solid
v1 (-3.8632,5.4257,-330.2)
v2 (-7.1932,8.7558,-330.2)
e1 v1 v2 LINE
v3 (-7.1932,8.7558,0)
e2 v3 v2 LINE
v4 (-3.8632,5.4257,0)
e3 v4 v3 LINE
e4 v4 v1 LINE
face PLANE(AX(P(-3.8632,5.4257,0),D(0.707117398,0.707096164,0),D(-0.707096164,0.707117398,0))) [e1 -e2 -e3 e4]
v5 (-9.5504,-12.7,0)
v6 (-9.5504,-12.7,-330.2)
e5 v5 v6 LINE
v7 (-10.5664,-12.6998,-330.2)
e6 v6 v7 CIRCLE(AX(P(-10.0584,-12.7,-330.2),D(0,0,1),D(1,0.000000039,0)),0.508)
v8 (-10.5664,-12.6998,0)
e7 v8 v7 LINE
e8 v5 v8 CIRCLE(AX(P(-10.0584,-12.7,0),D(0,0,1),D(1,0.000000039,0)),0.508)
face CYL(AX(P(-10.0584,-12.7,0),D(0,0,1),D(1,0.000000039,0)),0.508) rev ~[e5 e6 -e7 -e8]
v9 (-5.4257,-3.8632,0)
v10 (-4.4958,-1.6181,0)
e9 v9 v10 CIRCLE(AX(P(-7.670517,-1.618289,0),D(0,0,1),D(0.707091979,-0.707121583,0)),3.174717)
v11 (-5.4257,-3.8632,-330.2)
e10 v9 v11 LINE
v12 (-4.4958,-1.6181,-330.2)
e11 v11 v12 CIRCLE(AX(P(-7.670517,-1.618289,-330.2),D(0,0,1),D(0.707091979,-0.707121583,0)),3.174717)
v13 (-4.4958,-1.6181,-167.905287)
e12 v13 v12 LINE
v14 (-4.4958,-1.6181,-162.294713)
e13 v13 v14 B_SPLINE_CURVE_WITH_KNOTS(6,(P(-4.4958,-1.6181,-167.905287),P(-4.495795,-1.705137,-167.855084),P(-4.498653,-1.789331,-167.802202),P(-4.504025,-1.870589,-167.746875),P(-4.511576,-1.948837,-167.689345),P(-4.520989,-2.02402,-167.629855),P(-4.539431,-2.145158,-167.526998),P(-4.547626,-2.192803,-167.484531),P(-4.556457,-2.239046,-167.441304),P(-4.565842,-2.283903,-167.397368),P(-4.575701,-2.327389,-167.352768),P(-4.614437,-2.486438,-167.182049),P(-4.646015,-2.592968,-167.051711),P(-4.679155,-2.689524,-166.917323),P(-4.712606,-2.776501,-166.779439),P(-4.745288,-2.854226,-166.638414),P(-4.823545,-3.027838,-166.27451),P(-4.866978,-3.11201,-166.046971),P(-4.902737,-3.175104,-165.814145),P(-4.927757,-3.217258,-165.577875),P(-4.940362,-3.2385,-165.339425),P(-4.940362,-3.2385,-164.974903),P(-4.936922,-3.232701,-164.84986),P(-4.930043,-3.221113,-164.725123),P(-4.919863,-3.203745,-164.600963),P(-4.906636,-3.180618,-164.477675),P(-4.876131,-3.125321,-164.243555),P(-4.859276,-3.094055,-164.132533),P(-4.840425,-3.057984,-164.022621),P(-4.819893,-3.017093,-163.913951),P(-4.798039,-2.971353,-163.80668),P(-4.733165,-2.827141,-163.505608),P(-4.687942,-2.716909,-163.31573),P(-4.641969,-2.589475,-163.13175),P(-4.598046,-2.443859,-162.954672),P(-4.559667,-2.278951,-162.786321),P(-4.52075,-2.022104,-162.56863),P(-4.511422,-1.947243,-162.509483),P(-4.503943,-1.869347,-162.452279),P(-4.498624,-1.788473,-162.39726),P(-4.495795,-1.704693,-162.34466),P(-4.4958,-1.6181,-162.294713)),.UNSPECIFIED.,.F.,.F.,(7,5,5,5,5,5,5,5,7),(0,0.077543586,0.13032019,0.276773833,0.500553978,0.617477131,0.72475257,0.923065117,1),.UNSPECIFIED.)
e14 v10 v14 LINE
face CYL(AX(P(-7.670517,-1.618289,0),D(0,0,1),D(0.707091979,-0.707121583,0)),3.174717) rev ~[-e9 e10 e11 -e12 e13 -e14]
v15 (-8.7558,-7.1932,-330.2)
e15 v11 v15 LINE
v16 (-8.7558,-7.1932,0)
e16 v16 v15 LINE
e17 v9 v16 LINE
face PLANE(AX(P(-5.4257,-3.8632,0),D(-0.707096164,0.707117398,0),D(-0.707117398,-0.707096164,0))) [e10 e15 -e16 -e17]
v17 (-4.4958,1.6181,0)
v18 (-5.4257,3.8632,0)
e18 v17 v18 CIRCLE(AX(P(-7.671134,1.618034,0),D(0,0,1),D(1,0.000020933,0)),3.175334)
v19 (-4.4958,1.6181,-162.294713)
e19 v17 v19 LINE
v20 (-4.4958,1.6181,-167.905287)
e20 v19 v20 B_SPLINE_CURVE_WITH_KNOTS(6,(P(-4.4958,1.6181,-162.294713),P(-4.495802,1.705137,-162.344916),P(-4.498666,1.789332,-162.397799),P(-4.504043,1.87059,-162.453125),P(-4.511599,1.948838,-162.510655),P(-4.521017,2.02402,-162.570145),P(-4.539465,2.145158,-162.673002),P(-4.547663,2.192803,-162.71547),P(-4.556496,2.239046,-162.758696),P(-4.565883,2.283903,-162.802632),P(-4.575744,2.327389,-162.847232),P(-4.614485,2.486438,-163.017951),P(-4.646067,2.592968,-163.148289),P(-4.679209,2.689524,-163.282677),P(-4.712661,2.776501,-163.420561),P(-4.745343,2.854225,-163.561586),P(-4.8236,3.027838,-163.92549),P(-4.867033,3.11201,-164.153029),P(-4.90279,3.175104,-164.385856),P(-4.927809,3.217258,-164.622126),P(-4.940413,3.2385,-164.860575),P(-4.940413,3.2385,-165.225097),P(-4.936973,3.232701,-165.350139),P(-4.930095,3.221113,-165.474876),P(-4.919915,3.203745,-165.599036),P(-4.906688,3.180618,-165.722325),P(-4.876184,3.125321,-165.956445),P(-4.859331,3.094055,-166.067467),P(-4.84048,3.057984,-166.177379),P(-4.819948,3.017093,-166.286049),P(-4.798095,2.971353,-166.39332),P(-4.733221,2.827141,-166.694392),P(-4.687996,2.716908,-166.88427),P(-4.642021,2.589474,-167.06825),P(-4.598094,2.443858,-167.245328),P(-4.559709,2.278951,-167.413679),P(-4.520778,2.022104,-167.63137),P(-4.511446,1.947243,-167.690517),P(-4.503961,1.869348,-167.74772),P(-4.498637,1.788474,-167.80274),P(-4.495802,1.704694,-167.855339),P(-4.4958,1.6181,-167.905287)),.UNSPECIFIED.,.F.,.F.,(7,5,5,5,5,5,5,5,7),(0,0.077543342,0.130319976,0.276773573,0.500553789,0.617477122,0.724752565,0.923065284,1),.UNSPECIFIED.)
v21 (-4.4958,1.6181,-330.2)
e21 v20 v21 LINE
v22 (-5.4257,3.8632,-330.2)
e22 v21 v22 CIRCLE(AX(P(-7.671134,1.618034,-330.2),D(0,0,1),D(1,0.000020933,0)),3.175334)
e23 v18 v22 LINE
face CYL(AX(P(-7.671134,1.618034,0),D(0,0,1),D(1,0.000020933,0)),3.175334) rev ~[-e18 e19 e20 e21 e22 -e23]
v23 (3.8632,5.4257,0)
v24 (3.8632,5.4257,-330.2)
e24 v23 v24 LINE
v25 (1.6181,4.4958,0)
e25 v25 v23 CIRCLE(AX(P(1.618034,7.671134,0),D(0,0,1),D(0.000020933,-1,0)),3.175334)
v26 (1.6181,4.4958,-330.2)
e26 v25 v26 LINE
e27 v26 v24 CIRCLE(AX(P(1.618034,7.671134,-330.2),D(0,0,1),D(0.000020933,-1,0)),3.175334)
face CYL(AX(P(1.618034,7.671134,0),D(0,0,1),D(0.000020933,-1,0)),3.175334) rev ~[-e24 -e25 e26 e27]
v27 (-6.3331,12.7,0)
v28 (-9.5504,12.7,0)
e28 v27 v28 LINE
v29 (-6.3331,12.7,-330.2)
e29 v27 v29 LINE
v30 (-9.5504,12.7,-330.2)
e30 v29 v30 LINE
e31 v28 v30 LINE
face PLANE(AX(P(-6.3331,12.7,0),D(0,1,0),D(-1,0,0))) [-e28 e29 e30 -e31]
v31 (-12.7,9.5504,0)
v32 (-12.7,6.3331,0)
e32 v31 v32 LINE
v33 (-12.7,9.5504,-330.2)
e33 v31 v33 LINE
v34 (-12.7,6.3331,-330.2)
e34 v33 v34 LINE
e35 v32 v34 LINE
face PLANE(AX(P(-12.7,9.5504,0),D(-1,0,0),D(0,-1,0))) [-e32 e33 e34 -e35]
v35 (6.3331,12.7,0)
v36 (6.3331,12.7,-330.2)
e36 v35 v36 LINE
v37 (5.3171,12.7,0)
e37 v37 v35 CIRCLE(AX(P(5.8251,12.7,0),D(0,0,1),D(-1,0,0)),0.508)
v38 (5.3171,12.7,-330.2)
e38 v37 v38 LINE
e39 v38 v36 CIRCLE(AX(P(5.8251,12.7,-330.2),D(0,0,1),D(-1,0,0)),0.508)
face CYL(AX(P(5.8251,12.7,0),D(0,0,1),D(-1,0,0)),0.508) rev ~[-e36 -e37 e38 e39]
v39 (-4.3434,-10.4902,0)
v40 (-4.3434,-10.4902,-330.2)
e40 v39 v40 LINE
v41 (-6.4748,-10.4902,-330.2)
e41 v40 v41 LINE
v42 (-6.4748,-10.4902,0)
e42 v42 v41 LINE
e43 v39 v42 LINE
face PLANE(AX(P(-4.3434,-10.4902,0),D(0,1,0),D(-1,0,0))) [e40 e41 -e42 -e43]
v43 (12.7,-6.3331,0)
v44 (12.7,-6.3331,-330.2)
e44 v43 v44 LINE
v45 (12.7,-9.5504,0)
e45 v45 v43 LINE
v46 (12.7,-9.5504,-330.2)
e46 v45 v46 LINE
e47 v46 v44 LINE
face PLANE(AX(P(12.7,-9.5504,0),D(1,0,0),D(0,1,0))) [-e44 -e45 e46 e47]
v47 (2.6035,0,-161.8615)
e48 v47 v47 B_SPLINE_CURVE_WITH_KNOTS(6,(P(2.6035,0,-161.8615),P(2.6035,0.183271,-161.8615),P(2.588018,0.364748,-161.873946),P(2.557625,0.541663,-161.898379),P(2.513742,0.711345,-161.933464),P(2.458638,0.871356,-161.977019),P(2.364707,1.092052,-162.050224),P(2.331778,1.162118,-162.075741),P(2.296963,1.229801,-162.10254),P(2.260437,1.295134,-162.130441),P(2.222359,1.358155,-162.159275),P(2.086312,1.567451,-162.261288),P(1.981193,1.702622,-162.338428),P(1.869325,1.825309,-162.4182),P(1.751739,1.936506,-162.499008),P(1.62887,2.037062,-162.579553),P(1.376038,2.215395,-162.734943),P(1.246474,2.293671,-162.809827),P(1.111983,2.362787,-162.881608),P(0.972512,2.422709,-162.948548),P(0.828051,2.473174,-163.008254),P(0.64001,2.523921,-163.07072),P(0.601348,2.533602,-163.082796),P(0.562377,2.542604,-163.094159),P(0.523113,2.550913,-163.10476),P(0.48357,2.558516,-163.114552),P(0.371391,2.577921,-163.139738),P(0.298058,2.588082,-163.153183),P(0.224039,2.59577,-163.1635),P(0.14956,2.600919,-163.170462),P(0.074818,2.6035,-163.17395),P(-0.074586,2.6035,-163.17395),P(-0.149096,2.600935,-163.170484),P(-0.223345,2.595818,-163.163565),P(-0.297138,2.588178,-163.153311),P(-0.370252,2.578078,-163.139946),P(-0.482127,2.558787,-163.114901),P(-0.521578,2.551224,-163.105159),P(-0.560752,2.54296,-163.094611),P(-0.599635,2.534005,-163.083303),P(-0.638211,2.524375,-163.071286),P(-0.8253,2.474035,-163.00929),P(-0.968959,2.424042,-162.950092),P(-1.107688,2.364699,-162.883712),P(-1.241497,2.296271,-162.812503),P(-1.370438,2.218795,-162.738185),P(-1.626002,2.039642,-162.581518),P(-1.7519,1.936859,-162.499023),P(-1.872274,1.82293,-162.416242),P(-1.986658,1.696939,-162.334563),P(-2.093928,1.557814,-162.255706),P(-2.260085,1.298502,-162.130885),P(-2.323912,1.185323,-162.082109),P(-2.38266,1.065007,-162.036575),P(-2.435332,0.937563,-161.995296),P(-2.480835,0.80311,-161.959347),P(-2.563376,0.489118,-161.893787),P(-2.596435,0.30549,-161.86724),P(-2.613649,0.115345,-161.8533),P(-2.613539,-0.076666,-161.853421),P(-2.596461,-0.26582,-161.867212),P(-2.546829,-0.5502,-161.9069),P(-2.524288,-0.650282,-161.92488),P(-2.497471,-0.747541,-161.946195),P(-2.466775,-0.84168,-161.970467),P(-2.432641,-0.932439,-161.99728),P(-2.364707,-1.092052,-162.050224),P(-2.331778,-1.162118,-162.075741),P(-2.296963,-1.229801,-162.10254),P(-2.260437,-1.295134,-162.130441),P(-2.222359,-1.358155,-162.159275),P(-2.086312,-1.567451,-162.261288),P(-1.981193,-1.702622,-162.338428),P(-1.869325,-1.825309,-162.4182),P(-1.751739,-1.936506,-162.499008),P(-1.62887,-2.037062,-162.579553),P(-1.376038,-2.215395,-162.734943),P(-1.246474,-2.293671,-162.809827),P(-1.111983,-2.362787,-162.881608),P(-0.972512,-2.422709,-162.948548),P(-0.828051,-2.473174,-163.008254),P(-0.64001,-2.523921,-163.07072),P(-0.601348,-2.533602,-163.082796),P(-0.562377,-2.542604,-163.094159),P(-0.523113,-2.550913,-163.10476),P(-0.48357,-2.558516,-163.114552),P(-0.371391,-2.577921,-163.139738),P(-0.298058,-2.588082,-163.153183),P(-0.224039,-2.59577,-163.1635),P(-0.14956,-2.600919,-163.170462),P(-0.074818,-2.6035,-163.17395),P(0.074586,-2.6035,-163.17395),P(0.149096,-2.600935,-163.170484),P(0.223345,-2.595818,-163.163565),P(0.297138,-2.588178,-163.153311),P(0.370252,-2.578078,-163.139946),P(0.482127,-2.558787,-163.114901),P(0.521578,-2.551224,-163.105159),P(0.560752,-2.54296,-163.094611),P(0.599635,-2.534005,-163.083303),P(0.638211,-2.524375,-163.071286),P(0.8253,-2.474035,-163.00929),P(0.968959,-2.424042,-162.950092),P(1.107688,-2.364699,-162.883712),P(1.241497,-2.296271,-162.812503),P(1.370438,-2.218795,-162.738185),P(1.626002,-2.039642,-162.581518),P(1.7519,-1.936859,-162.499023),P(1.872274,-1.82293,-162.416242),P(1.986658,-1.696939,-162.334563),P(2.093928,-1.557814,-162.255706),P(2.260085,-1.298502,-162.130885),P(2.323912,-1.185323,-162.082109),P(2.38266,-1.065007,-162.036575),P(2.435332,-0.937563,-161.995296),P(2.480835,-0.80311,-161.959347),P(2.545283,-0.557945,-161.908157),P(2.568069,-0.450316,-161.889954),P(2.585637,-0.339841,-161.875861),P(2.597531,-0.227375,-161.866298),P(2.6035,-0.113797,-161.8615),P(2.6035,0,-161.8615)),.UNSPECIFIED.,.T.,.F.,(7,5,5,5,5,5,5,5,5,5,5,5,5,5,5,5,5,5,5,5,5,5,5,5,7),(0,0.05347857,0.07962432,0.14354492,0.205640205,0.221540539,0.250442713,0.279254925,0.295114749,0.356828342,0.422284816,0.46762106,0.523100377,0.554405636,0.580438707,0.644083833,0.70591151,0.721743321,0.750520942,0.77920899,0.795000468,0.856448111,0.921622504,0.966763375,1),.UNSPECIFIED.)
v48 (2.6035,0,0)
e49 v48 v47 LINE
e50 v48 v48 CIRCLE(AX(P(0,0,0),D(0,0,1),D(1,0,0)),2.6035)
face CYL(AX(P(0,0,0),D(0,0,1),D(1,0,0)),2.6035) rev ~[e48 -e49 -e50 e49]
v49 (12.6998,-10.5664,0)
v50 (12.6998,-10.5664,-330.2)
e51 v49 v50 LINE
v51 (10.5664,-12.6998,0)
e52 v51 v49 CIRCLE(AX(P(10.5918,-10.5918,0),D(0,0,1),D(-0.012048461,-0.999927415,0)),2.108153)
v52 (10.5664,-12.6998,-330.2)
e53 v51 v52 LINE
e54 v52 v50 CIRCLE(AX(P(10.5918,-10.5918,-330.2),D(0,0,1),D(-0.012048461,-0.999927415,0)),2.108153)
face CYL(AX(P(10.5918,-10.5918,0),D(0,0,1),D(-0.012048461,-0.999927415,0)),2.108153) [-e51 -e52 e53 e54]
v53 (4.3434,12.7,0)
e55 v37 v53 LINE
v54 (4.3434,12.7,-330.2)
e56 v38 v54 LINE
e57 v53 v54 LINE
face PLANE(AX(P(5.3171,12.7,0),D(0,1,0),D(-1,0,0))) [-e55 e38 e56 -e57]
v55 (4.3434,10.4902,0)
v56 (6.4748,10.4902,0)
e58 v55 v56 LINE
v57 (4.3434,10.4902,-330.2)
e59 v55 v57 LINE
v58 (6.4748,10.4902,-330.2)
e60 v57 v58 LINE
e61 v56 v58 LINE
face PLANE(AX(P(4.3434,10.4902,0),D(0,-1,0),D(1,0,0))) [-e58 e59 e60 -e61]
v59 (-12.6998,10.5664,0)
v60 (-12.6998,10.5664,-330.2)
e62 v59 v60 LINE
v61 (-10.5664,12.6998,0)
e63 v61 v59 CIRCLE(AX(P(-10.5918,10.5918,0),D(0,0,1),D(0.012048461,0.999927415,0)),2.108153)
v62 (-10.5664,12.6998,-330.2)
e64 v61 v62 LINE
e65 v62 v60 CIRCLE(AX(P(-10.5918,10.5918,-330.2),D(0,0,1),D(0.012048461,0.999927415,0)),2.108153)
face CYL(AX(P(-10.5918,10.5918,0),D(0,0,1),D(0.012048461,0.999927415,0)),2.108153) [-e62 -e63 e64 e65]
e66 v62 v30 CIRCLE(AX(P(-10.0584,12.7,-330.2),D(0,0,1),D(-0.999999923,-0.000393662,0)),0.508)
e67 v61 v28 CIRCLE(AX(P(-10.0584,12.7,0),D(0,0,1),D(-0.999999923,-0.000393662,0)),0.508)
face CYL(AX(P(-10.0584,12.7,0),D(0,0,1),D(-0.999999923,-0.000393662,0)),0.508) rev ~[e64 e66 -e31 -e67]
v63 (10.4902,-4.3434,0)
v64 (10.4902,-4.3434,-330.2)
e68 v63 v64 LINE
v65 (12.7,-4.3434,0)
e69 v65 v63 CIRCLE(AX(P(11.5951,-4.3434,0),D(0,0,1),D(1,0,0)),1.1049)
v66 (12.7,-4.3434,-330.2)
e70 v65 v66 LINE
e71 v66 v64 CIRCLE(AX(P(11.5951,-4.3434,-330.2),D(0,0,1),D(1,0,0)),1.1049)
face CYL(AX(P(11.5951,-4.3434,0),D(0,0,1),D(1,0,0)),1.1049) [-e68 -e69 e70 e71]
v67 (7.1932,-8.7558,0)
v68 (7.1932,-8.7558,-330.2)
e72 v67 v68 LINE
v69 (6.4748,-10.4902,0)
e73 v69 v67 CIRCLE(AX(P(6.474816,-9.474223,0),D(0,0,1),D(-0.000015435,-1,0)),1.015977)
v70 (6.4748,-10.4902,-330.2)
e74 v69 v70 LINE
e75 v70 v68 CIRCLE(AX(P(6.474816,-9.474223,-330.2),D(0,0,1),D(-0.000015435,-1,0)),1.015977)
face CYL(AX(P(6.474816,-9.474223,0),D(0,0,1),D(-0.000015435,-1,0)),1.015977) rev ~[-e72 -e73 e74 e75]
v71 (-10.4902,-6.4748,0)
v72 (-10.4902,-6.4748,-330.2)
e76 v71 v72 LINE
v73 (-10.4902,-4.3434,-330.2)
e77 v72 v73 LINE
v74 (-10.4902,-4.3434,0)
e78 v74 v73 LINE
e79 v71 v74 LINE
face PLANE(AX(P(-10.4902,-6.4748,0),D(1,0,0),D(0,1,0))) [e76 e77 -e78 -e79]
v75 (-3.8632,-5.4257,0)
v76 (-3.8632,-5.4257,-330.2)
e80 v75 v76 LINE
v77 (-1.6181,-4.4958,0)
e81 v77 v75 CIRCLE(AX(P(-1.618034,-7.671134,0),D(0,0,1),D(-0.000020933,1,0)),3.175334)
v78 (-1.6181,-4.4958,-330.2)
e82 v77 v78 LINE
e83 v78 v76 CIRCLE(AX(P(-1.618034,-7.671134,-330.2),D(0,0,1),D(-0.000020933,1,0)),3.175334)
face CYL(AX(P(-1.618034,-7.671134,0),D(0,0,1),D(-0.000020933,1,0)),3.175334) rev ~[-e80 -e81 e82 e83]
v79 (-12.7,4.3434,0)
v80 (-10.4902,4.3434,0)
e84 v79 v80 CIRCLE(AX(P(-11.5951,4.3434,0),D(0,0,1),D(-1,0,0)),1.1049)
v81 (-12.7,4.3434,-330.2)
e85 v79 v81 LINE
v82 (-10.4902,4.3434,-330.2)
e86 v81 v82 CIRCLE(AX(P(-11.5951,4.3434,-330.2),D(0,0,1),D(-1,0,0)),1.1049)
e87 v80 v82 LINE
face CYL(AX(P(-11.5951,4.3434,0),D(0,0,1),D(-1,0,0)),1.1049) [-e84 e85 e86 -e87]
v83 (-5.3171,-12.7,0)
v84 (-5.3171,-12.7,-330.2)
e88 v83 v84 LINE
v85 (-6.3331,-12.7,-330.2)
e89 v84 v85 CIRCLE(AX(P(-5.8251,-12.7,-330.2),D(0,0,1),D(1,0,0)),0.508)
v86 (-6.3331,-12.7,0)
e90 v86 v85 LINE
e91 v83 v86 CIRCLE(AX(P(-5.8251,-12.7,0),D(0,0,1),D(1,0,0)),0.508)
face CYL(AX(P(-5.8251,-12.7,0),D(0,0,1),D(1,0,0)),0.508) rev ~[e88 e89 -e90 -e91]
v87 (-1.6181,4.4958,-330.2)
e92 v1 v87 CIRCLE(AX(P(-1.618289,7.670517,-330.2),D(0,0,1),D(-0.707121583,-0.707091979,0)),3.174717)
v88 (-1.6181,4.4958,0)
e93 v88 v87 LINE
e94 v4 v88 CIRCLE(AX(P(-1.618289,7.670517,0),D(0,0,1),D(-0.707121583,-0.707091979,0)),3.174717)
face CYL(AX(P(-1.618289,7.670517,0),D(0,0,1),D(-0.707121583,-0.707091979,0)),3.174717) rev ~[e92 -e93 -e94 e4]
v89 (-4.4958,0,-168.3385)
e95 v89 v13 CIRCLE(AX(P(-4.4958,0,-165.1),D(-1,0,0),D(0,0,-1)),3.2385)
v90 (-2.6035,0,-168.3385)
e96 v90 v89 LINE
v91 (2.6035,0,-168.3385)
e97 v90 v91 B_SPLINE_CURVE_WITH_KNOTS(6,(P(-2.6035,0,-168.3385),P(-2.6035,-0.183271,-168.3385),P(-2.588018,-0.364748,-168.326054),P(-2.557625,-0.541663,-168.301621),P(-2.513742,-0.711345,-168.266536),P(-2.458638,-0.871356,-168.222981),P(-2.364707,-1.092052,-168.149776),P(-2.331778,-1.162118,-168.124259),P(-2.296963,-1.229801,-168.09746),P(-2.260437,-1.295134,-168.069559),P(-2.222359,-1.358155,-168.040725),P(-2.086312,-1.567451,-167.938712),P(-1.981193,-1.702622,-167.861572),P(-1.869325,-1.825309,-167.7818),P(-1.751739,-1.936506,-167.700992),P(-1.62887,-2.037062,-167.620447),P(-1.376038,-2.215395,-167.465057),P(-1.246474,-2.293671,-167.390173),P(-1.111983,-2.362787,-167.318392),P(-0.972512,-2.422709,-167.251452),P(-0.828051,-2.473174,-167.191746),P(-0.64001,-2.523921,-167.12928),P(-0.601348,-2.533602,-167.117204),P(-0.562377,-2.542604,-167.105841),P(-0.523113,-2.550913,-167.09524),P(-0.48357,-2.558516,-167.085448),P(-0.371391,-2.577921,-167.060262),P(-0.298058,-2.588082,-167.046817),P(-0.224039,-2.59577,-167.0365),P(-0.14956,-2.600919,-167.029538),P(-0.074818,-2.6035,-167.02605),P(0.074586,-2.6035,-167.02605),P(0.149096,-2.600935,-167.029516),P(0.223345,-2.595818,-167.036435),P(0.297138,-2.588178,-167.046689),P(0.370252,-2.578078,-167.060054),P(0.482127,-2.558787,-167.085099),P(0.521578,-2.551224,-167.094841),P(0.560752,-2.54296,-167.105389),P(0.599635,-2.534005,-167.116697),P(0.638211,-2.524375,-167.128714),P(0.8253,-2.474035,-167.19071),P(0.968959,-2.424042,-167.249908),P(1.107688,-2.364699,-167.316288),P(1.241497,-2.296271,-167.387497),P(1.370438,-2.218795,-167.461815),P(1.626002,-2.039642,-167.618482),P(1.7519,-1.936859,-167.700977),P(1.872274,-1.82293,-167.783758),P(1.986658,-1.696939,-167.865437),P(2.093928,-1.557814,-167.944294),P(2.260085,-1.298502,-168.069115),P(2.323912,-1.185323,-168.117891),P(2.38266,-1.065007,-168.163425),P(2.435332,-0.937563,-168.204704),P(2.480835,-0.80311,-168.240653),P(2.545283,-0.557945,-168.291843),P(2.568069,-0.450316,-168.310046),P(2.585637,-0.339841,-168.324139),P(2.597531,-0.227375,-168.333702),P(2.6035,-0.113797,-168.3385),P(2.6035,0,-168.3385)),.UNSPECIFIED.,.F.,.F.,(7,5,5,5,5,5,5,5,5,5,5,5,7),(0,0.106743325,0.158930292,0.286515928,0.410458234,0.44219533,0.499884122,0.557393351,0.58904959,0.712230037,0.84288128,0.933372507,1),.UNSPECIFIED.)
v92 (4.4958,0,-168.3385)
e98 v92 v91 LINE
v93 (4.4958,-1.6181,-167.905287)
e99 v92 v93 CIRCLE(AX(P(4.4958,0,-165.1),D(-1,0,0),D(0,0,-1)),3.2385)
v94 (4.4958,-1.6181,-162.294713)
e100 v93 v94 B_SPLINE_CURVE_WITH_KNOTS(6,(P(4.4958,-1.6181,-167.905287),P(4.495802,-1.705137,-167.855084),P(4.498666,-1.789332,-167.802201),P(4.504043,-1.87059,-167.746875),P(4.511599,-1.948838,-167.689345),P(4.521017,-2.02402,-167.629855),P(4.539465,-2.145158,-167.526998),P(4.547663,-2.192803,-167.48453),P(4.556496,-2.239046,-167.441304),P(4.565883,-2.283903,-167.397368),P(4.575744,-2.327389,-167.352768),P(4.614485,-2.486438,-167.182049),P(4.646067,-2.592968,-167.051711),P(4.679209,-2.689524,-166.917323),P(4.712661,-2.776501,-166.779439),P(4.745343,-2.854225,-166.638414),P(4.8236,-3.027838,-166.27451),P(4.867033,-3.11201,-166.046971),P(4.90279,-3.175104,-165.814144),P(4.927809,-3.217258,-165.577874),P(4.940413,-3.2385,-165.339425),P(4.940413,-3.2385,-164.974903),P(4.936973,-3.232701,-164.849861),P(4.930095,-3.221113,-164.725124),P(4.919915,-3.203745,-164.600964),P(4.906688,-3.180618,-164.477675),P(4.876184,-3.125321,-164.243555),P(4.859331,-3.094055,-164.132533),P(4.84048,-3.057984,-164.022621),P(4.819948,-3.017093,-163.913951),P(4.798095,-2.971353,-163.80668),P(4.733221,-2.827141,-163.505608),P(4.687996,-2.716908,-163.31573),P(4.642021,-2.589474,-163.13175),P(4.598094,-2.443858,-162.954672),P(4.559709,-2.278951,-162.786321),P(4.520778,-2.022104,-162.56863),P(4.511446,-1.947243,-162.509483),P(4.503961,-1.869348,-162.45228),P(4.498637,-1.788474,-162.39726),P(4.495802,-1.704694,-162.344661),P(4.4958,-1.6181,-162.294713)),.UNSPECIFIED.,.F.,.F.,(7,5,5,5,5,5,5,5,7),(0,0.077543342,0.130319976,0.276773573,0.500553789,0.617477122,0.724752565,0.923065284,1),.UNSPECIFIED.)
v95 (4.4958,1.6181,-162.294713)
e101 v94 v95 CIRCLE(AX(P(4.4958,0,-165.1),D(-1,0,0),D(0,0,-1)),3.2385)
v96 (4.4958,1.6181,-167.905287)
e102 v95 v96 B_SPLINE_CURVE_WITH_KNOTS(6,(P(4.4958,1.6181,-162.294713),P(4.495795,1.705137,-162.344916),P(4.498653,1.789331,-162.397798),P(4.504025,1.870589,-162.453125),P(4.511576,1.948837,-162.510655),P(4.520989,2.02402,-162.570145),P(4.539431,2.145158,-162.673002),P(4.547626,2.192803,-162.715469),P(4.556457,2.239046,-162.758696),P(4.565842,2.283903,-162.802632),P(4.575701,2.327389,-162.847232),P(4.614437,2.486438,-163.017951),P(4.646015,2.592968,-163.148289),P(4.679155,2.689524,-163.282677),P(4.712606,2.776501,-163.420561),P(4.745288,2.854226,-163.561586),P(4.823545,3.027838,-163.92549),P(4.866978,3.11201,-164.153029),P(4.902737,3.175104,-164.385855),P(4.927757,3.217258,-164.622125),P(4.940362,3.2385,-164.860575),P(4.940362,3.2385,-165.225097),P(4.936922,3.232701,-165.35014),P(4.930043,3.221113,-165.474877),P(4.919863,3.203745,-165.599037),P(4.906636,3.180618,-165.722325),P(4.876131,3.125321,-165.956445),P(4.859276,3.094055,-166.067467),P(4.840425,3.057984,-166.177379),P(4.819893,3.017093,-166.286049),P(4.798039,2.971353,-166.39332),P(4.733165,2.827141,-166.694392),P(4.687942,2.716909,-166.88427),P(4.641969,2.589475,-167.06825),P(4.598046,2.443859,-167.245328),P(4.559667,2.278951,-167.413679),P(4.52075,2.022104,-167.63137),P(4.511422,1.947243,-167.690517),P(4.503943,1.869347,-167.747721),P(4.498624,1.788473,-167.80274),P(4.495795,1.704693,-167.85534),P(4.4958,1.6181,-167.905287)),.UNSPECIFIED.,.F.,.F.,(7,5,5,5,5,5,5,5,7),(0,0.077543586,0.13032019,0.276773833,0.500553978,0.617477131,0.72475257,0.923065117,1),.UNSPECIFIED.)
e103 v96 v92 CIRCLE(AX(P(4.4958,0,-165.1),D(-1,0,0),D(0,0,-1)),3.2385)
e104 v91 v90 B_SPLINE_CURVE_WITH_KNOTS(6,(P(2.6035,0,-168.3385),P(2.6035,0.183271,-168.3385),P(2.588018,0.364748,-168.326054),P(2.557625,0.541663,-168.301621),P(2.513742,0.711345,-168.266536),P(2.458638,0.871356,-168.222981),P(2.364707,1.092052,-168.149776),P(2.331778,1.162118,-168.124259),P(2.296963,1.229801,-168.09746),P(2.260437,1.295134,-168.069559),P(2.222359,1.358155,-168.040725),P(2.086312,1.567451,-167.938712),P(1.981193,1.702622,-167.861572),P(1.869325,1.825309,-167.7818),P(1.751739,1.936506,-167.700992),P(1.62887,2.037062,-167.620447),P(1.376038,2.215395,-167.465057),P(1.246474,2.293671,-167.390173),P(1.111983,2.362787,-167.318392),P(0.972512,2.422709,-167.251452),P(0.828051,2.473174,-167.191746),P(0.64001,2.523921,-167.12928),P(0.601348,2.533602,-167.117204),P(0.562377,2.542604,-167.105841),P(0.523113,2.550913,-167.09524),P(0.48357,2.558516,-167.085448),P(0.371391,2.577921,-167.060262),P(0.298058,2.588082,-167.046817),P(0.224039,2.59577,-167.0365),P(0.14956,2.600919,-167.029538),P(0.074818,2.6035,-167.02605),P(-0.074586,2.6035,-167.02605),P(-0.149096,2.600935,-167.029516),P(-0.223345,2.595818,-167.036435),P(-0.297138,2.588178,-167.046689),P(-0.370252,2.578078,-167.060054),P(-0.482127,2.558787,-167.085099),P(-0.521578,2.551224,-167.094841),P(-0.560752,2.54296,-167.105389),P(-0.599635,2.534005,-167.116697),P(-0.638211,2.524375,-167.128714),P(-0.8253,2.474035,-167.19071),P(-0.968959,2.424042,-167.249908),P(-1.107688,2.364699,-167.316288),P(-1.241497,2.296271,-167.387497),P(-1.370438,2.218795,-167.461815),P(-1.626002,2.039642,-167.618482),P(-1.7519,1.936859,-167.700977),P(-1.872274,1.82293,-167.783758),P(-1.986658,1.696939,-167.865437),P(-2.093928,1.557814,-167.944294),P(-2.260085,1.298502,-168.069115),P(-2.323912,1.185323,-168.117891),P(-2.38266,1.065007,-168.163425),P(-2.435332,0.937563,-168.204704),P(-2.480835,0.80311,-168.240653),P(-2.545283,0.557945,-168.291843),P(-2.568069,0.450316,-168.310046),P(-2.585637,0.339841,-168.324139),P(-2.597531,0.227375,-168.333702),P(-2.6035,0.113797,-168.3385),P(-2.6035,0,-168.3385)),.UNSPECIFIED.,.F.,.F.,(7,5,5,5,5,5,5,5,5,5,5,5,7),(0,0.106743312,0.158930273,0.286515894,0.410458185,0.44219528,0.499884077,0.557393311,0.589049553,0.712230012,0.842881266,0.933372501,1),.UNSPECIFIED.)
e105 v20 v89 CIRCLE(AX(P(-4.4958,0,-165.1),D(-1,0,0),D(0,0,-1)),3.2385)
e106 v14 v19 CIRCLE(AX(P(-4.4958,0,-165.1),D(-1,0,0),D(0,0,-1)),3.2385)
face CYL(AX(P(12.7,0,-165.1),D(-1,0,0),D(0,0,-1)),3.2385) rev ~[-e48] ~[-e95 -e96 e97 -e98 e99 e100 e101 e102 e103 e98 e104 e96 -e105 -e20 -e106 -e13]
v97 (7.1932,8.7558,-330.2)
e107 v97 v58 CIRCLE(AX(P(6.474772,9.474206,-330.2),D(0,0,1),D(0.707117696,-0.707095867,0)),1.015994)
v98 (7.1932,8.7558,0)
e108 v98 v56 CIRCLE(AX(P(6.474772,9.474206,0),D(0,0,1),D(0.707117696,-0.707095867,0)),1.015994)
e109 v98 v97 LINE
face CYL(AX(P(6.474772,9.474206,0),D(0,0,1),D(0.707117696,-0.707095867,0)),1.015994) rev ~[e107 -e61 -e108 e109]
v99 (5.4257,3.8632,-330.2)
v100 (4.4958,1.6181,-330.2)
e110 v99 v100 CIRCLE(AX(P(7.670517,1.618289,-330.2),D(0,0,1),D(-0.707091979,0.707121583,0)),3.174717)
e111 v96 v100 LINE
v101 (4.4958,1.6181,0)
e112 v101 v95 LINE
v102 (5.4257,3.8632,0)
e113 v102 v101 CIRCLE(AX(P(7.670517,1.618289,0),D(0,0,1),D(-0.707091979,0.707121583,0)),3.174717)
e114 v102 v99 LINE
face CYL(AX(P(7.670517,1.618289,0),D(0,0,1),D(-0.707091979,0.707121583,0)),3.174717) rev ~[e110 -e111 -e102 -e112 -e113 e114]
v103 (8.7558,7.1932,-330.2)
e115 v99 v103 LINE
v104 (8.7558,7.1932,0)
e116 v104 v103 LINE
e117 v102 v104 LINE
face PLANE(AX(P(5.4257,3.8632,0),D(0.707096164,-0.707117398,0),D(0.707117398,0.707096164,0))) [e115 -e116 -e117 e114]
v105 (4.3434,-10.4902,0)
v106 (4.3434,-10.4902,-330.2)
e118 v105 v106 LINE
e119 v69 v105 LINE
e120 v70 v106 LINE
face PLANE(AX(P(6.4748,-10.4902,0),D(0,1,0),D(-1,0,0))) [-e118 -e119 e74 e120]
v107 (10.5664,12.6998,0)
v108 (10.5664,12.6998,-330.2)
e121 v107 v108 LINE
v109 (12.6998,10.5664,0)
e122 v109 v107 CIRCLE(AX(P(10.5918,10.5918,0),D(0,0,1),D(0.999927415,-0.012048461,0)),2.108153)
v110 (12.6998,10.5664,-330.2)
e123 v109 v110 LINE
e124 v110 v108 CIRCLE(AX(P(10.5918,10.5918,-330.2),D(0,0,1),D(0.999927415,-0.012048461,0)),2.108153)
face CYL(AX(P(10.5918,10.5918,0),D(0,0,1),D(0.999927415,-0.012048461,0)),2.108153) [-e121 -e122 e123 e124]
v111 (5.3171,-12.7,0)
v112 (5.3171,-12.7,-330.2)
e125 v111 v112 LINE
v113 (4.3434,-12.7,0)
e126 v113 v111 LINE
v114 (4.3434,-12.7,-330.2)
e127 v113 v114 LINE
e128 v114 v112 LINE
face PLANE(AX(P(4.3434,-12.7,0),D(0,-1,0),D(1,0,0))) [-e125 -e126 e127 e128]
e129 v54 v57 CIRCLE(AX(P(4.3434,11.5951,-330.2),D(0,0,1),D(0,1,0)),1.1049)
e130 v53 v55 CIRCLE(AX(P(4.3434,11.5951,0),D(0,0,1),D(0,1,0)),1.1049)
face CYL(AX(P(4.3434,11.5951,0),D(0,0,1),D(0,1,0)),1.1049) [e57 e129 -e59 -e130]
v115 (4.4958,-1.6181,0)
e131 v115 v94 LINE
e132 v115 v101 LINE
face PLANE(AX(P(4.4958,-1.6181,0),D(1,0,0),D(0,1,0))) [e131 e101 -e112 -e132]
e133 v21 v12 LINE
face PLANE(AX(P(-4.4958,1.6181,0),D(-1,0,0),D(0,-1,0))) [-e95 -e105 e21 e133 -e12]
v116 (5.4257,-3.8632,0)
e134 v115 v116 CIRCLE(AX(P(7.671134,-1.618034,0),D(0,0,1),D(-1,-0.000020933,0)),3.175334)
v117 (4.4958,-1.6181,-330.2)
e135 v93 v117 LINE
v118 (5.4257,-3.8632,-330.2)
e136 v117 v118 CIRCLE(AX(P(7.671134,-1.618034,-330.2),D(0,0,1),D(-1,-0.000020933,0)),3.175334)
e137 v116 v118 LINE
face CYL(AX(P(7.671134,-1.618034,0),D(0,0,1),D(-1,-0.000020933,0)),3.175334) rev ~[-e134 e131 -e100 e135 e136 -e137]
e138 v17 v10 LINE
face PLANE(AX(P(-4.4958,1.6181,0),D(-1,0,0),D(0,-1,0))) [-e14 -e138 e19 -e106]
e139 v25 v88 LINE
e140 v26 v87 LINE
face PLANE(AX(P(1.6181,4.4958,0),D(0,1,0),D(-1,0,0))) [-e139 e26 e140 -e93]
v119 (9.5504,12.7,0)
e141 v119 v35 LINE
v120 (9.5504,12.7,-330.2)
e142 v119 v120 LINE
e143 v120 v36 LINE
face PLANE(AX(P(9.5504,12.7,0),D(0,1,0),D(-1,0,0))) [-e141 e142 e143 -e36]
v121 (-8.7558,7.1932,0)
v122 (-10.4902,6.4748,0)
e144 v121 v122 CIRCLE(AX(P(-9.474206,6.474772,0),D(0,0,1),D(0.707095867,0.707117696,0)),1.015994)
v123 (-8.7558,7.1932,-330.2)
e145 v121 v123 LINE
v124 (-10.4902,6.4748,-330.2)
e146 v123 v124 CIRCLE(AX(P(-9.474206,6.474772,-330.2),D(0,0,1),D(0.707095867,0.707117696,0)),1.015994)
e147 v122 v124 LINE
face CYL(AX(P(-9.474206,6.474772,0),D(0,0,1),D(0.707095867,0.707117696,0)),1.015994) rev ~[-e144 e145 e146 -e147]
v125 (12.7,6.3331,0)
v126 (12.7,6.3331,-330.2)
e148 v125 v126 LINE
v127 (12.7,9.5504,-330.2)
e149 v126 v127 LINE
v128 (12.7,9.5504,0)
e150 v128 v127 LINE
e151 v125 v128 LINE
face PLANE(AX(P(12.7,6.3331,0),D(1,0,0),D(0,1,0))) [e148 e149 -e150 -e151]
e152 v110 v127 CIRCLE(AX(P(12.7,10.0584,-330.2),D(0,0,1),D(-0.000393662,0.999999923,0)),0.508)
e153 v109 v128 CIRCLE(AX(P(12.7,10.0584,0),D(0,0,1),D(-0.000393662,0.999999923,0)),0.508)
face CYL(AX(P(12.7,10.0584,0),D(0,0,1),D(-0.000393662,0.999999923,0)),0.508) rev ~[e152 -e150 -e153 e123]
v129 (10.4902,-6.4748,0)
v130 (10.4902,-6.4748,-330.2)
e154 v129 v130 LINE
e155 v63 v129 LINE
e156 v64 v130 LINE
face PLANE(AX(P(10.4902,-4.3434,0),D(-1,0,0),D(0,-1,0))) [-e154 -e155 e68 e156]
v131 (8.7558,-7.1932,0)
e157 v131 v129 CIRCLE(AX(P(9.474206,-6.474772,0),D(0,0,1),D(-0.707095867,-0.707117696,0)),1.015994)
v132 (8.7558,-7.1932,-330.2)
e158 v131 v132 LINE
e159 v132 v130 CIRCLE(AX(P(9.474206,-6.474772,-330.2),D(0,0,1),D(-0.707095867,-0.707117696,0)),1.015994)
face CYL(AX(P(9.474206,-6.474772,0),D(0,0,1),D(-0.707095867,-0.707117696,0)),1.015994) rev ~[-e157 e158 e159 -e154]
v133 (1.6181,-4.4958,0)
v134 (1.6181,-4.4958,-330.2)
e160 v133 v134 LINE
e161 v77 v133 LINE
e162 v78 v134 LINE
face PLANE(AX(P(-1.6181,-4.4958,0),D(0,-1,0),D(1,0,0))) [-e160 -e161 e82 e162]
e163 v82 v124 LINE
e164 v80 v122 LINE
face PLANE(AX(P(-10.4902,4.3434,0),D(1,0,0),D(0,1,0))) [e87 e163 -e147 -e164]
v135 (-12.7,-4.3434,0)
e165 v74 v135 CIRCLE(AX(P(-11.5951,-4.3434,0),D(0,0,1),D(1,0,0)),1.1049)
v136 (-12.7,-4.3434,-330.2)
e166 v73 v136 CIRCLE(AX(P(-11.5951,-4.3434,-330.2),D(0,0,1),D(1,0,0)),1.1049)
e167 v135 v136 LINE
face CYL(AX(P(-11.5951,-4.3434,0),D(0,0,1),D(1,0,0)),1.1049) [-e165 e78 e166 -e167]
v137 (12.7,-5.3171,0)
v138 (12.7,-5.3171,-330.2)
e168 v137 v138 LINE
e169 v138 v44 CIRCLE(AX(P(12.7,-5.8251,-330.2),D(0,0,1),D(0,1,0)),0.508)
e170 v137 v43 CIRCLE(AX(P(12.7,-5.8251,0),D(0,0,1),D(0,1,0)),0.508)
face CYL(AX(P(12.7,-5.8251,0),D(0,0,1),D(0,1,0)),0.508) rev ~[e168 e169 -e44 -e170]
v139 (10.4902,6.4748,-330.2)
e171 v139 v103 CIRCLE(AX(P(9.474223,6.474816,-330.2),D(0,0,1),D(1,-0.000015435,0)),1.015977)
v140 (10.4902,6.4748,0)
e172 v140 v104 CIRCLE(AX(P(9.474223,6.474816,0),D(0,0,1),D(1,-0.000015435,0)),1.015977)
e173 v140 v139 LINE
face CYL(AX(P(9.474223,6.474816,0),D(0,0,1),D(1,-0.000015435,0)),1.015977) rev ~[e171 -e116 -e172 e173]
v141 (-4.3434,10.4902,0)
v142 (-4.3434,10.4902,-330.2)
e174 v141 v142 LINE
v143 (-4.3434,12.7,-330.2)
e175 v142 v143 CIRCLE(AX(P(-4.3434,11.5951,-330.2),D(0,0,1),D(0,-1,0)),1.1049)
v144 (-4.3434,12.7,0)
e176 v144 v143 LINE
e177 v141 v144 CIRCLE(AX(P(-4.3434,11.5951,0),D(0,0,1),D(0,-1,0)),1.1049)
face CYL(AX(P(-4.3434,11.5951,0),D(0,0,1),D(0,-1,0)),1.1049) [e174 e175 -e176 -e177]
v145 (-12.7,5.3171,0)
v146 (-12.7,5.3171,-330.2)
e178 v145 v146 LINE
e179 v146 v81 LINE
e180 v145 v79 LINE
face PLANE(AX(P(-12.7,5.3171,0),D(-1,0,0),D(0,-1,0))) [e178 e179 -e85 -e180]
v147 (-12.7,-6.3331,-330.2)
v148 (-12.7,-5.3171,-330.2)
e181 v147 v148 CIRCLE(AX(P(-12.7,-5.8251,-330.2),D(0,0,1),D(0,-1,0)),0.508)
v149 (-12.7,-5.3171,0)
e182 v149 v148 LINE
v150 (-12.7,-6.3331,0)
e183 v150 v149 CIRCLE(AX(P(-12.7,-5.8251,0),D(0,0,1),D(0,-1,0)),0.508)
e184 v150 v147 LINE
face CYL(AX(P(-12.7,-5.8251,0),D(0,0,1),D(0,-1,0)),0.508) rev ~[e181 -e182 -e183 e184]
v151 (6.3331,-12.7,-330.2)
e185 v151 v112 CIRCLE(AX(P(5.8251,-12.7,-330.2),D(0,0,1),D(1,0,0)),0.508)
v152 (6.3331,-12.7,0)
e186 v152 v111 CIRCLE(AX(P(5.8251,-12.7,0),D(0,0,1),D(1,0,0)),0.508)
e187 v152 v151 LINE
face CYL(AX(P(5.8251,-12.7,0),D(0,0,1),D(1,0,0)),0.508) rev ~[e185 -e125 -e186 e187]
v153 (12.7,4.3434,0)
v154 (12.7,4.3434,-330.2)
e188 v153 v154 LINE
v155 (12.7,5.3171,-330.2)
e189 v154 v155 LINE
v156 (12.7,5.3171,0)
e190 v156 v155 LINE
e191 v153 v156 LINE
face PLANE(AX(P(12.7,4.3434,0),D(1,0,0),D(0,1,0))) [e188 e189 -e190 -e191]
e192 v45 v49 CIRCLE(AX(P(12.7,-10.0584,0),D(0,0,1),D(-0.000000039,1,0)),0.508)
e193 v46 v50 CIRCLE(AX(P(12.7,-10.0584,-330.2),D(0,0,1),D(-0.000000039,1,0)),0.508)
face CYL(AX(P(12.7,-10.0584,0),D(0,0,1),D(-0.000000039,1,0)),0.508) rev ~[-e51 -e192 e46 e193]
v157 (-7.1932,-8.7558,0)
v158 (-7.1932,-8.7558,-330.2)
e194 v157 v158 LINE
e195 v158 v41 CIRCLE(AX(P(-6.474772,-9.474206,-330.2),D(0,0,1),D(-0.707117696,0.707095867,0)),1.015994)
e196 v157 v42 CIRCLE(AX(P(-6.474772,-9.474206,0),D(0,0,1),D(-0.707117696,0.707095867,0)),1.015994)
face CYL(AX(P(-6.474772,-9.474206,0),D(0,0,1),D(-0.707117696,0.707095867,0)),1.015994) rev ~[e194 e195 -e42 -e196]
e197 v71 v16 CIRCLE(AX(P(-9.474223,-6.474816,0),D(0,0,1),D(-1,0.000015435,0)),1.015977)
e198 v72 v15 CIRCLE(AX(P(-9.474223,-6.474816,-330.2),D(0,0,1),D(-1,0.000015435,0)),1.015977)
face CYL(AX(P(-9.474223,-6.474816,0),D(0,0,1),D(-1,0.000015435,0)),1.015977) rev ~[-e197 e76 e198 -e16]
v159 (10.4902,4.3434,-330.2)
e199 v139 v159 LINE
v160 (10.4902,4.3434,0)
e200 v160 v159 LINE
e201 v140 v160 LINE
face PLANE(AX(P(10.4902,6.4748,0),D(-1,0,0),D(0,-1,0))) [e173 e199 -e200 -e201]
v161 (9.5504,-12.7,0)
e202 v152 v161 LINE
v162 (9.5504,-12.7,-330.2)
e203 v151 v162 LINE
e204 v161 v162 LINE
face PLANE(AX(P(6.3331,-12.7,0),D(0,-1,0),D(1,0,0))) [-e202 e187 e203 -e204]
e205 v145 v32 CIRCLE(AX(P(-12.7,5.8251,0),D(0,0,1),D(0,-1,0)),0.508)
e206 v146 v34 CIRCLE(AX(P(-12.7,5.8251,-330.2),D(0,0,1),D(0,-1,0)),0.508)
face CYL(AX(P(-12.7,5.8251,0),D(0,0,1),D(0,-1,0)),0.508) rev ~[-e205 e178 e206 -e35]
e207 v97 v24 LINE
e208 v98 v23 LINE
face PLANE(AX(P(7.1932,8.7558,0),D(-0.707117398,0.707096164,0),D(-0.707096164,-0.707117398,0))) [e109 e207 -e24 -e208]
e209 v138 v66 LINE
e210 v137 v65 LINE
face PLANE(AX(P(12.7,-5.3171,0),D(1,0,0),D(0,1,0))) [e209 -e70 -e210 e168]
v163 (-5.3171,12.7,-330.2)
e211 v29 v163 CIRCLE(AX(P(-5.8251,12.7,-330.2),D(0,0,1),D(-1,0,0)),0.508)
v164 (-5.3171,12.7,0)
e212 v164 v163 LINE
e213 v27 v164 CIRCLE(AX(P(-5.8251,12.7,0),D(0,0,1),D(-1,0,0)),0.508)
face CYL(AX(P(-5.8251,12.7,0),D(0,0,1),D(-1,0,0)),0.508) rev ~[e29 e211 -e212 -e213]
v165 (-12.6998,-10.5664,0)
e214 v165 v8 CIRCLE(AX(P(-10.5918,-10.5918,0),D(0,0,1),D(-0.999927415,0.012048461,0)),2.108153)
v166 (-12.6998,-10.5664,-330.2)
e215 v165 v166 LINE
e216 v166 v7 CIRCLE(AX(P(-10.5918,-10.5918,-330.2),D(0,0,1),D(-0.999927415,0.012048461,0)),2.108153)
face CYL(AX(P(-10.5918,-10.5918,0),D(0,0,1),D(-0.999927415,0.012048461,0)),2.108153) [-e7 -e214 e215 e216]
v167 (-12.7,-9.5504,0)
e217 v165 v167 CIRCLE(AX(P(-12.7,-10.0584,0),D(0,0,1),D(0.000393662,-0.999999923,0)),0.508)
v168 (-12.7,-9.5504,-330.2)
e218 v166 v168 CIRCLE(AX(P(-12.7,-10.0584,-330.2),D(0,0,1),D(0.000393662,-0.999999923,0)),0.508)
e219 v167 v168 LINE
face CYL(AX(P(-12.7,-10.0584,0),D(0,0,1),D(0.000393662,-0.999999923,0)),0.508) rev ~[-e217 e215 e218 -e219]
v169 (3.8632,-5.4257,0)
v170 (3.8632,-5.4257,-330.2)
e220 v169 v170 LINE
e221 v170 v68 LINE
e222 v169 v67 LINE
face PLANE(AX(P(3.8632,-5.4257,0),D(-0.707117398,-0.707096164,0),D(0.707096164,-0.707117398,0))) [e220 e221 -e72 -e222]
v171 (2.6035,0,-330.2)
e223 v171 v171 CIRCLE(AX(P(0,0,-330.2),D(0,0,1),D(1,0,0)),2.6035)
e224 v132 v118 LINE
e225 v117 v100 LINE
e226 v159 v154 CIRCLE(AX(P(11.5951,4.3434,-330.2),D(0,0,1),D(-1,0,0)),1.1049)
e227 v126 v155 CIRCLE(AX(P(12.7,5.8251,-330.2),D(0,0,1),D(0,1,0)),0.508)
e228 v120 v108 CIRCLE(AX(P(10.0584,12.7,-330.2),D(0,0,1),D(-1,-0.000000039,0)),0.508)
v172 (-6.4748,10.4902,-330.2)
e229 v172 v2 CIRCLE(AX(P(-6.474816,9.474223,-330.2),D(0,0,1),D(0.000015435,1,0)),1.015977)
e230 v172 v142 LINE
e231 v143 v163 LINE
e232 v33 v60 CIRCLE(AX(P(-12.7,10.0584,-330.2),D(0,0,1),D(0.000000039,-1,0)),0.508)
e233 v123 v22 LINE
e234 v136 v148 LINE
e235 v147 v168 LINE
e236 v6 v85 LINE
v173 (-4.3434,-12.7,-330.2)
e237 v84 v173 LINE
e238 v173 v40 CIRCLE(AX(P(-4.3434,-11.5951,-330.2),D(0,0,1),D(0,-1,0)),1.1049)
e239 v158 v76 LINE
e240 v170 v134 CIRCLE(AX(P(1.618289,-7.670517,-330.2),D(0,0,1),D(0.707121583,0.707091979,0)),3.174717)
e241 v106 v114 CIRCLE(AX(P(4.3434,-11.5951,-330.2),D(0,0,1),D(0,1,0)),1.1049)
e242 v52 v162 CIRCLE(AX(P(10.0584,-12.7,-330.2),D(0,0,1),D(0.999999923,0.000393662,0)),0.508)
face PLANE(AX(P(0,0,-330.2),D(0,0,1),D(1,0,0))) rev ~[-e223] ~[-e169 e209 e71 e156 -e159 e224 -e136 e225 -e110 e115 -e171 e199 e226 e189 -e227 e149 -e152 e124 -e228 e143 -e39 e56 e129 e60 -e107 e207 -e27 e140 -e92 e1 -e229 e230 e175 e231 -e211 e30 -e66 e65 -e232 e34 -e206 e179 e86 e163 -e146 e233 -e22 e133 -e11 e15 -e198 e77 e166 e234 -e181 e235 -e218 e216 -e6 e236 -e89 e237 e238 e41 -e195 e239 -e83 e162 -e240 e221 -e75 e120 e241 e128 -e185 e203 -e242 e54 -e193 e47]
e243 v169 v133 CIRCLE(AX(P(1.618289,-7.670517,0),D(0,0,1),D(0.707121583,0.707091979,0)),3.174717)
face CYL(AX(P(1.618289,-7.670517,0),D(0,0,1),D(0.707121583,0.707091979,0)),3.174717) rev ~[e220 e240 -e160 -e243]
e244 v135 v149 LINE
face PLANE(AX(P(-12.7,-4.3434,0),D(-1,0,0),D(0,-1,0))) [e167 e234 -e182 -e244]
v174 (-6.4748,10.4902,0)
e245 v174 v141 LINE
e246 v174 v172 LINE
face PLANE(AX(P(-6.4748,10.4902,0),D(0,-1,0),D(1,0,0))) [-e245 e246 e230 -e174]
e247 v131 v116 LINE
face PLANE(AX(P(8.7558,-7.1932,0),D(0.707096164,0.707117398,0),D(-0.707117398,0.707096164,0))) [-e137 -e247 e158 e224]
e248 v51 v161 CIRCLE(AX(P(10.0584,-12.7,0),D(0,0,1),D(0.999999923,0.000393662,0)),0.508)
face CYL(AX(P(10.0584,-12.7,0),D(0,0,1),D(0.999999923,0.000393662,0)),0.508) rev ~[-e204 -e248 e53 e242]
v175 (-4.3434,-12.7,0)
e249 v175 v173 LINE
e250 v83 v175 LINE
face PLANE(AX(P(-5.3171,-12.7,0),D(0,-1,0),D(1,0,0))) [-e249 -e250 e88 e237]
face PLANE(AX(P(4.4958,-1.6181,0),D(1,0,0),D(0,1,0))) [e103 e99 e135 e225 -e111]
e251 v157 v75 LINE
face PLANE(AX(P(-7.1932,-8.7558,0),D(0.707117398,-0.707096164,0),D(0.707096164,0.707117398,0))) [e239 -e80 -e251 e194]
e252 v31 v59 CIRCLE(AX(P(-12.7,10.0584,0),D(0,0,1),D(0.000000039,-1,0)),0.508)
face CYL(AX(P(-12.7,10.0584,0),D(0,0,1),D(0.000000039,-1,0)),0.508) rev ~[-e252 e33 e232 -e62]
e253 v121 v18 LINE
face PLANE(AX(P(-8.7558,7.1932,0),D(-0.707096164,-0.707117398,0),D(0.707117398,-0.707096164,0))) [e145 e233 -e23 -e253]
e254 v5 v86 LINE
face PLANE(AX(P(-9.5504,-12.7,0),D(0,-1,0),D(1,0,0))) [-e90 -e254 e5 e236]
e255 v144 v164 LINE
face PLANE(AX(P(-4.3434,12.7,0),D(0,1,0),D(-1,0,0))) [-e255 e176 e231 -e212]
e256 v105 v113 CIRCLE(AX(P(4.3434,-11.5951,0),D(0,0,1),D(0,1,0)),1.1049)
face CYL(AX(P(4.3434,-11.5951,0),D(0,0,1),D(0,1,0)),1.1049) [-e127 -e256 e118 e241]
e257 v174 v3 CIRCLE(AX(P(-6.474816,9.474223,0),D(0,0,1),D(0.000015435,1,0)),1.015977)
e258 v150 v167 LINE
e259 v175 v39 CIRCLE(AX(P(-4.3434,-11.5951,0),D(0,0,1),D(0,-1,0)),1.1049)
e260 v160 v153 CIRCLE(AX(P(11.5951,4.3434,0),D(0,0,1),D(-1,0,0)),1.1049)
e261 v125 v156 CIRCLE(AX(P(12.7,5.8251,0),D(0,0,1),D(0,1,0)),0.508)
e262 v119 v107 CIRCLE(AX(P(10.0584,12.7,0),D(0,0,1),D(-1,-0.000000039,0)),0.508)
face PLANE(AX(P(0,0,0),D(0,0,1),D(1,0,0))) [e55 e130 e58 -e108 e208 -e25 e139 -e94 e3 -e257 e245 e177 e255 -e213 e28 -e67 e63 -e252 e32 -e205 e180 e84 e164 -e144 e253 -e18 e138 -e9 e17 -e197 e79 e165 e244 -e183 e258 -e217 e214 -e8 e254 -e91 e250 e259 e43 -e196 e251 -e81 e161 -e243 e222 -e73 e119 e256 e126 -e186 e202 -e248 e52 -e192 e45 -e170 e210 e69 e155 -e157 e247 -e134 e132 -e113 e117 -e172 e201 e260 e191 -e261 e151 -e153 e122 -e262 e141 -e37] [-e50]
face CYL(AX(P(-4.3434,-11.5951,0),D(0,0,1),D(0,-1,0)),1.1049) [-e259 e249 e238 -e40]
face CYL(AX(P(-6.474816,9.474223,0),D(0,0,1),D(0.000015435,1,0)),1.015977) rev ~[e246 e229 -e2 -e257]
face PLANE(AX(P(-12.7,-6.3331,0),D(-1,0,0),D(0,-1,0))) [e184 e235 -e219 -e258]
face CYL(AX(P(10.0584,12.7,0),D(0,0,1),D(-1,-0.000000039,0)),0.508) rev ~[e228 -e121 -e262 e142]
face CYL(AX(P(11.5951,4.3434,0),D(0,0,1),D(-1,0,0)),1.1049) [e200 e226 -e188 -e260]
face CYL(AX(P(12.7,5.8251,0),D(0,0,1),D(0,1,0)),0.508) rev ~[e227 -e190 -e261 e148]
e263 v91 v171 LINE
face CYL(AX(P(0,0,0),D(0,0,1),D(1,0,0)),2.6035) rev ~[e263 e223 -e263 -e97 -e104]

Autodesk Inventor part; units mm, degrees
ref_plane "YZ Plane" through (0, 0, 0) normal (1, 0, 0) x (0, 1, 0)
ref_plane "XZ Plane" through (0, 0, 0) normal (0, 1, 0) x (-1, 0, 0)
ref_plane "XY Plane" through (0, 0, 0) normal (0, 0, 1) x (1, 0, 0)
sketch "Sketch_1" plane through (0, 0, 0) normal (0, 0, 1) x (1, 0, 0)
  arc A0 (-12.6998, -10.5664) -> (-10.5664, -12.6998) centre (-10.5918, -10.5918) ccw
  arc A1 (-9.5504, -12.7) -> (-10.5664, -12.6998) centre (-10.0584, -12.7) ccw
  line L0 (-9.5504, -12.7) -> (-6.3331, -12.7)
  arc A2 (-5.3171, -12.7) -> (-6.3331, -12.7) centre (-5.8251, -12.7) ccw
  line L1 (-5.3171, -12.7) -> (-4.3434, -12.7)
  arc A3 (-4.3434, -12.7) -> (-4.3434, -10.4902) centre (-4.3434, -11.5951) ccw
  line L2 (-4.3434, -10.4902) -> (-6.4748, -10.4902)
  arc A4 (-7.1932, -8.7558) -> (-6.4748, -10.4902) centre (-6.4748, -9.4742) ccw
  line L3 (-7.1932, -8.7558) -> (-3.8632, -5.4257)
  arc A5 (-1.6181, -4.4958) -> (-3.8632, -5.4257) centre (-1.6181, -7.6708) ccw
  line L4 (-1.6181, -4.4958) -> (1.6181, -4.4958)
  arc A6 (3.8632, -5.4257) -> (1.6181, -4.4958) centre (1.6181, -7.6708) ccw
  line L5 (3.8632, -5.4257) -> (7.1932, -8.7558)
  arc A7 (6.4748, -10.4902) -> (7.1932, -8.7558) centre (6.4748, -9.4742) ccw
  line L6 (6.4748, -10.4902) -> (4.3434, -10.4902)
  arc A8 (4.3434, -10.4902) -> (4.3434, -12.7) centre (4.3434, -11.5951) ccw
  line L7 (4.3434, -12.7) -> (5.3171, -12.7)
  arc A9 (6.3331, -12.7) -> (5.3171, -12.7) centre (5.8251, -12.7) ccw
  line L8 (6.3331, -12.7) -> (9.5504, -12.7)
  arc A10 (10.5664, -12.6998) -> (9.5504, -12.7) centre (10.0584, -12.7) ccw
  arc A11 (10.5664, -12.6998) -> (12.6998, -10.5664) centre (10.5918, -10.5918) ccw
  arc A12 (12.7, -9.5504) -> (12.6998, -10.5664) centre (12.7, -10.0584) ccw
  line L9 (12.7, -9.5504) -> (12.7, -6.3331)
  arc A13 (12.7, -5.3171) -> (12.7, -6.3331) centre (12.7, -5.8251) ccw
  line L10 (12.7, -5.3171) -> (12.7, -4.3434)
  arc A14 (12.7, -4.3434) -> (10.4902, -4.3434) centre (11.5951, -4.3434) ccw
  line L11 (10.4902, -4.3434) -> (10.4902, -6.4748)
  arc A15 (8.7558, -7.1932) -> (10.4902, -6.4748) centre (9.4742, -6.4748) ccw
  line L12 (8.7558, -7.1932) -> (5.4257, -3.8632)
  arc A16 (4.4958, -1.6181) -> (5.4257, -3.8632) centre (7.6708, -1.6181) ccw
  line L13 (4.4958, -1.6181) -> (4.4958, 1.6181)
  arc A17 (5.4257, 3.8632) -> (4.4958, 1.6181) centre (7.6708, 1.6181) ccw
  line L14 (5.4257, 3.8632) -> (8.7558, 7.1932)
  arc A18 (10.4902, 6.4748) -> (8.7558, 7.1932) centre (9.4742, 6.4748) ccw
  line L15 (10.4902, 6.4748) -> (10.4902, 4.3434)
  arc A19 (10.4902, 4.3434) -> (12.7, 4.3434) centre (11.5951, 4.3434) ccw
  line L16 (12.7, 4.3434) -> (12.7, 5.3171)
  arc A20 (12.7, 6.3331) -> (12.7, 5.3171) centre (12.7, 5.8251) ccw
  line L17 (12.7, 6.3331) -> (12.7, 9.5504)
  arc A21 (12.6998, 10.5664) -> (12.7, 9.5504) centre (12.7, 10.0584) ccw
  arc A22 (12.6998, 10.5664) -> (10.5664, 12.6998) centre (10.5918, 10.5918) ccw
  arc A23 (9.5504, 12.7) -> (10.5664, 12.6998) centre (10.0584, 12.7) ccw
  line L18 (9.5504, 12.7) -> (6.3331, 12.7)
  arc A24 (5.3171, 12.7) -> (6.3331, 12.7) centre (5.8251, 12.7) ccw
  line L19 (5.3171, 12.7) -> (4.3434, 12.7)
  arc A25 (4.3434, 12.7) -> (4.3434, 10.4902) centre (4.3434, 11.5951) ccw
  line L20 (4.3434, 10.4902) -> (6.4748, 10.4902)
  arc A26 (7.1932, 8.7558) -> (6.4748, 10.4902) centre (6.4748, 9.4742) ccw
  line L21 (7.1932, 8.7558) -> (3.8632, 5.4257)
  arc A27 (1.6181, 4.4958) -> (3.8632, 5.4257) centre (1.6181, 7.6708) ccw
  line L22 (1.6181, 4.4958) -> (-1.6181, 4.4958)
  arc A28 (-3.8632, 5.4257) -> (-1.6181, 4.4958) centre (-1.6181, 7.6708) ccw
  line L23 (-3.8632, 5.4257) -> (-7.1932, 8.7558)
  arc A29 (-6.4748, 10.4902) -> (-7.1932, 8.7558) centre (-6.4748, 9.4742) ccw
  line L24 (-6.4748, 10.4902) -> (-4.3434, 10.4902)
  arc A30 (-4.3434, 10.4902) -> (-4.3434, 12.7) centre (-4.3434, 11.5951) ccw
  line L25 (-4.3434, 12.7) -> (-5.3171, 12.7)
  arc A31 (-6.3331, 12.7) -> (-5.3171, 12.7) centre (-5.8251, 12.7) ccw
  line L26 (-6.3331, 12.7) -> (-9.5504, 12.7)
  arc A32 (-10.5664, 12.6998) -> (-9.5504, 12.7) centre (-10.0584, 12.7) ccw
  arc A33 (-10.5664, 12.6998) -> (-12.6998, 10.5664) centre (-10.5918, 10.5918) ccw
  arc A34 (-12.7, 9.5504) -> (-12.6998, 10.5664) centre (-12.7, 10.0584) ccw
  line L27 (-12.7, 9.5504) -> (-12.7, 6.3331)
  arc A35 (-12.7, 5.3171) -> (-12.7, 6.3331) centre (-12.7, 5.8251) ccw
  line L28 (-12.7, 5.3171) -> (-12.7, 4.3434)
  arc A36 (-12.7, 4.3434) -> (-10.4902, 4.3434) centre (-11.5951, 4.3434) ccw
  line L29 (-10.4902, 4.3434) -> (-10.4902, 6.4748)
  arc A37 (-8.7558, 7.1932) -> (-10.4902, 6.4748) centre (-9.4742, 6.4748) ccw
  line L30 (-8.7558, 7.1932) -> (-5.4257, 3.8632)
  arc A38 (-4.4958, 1.6181) -> (-5.4257, 3.8632) centre (-7.6708, 1.6181) ccw
  line L31 (-4.4958, 1.6181) -> (-4.4958, -1.6181)
  arc A39 (-5.4257, -3.8632) -> (-4.4958, -1.6181) centre (-7.6708, -1.6181) ccw
  line L32 (-5.4257, -3.8632) -> (-8.7558, -7.1932)
  arc A40 (-10.4902, -6.4748) -> (-8.7558, -7.1932) centre (-9.4742, -6.4748) ccw
  line L33 (-10.4902, -6.4748) -> (-10.4902, -4.3434)
  arc A41 (-10.4902, -4.3434) -> (-12.7, -4.3434) centre (-11.5951, -4.3434) ccw
  line L34 (-12.7, -4.3434) -> (-12.7, -5.3171)
  arc A42 (-12.7, -6.3331) -> (-12.7, -5.3171) centre (-12.7, -5.8251) ccw
  line L35 (-12.7, -6.3331) -> (-12.7, -9.5504)
  arc A43 (-12.6998, -10.5664) -> (-12.7, -9.5504) centre (-12.7, -10.0584) ccw
  circle A44 centre (0, 0) radius 2.6035
extrude "Extrusion1" add sketch "Sketch_1" against normal blind 330.2
sketch "Sketch4" plane through (12.7, 9.5504, 0) normal (1, 0, 0) x (0, 0, -1)
  point P0 (0, -9.5504)
  point P1 (165.1, -9.5504)
  dimension "d31" = 165.1
hole "Hole3" at (12.7, 0, -165.1) direction (-1, 0, 0) diameter 6.477 end through all
properties part number "1010-15-CL"
